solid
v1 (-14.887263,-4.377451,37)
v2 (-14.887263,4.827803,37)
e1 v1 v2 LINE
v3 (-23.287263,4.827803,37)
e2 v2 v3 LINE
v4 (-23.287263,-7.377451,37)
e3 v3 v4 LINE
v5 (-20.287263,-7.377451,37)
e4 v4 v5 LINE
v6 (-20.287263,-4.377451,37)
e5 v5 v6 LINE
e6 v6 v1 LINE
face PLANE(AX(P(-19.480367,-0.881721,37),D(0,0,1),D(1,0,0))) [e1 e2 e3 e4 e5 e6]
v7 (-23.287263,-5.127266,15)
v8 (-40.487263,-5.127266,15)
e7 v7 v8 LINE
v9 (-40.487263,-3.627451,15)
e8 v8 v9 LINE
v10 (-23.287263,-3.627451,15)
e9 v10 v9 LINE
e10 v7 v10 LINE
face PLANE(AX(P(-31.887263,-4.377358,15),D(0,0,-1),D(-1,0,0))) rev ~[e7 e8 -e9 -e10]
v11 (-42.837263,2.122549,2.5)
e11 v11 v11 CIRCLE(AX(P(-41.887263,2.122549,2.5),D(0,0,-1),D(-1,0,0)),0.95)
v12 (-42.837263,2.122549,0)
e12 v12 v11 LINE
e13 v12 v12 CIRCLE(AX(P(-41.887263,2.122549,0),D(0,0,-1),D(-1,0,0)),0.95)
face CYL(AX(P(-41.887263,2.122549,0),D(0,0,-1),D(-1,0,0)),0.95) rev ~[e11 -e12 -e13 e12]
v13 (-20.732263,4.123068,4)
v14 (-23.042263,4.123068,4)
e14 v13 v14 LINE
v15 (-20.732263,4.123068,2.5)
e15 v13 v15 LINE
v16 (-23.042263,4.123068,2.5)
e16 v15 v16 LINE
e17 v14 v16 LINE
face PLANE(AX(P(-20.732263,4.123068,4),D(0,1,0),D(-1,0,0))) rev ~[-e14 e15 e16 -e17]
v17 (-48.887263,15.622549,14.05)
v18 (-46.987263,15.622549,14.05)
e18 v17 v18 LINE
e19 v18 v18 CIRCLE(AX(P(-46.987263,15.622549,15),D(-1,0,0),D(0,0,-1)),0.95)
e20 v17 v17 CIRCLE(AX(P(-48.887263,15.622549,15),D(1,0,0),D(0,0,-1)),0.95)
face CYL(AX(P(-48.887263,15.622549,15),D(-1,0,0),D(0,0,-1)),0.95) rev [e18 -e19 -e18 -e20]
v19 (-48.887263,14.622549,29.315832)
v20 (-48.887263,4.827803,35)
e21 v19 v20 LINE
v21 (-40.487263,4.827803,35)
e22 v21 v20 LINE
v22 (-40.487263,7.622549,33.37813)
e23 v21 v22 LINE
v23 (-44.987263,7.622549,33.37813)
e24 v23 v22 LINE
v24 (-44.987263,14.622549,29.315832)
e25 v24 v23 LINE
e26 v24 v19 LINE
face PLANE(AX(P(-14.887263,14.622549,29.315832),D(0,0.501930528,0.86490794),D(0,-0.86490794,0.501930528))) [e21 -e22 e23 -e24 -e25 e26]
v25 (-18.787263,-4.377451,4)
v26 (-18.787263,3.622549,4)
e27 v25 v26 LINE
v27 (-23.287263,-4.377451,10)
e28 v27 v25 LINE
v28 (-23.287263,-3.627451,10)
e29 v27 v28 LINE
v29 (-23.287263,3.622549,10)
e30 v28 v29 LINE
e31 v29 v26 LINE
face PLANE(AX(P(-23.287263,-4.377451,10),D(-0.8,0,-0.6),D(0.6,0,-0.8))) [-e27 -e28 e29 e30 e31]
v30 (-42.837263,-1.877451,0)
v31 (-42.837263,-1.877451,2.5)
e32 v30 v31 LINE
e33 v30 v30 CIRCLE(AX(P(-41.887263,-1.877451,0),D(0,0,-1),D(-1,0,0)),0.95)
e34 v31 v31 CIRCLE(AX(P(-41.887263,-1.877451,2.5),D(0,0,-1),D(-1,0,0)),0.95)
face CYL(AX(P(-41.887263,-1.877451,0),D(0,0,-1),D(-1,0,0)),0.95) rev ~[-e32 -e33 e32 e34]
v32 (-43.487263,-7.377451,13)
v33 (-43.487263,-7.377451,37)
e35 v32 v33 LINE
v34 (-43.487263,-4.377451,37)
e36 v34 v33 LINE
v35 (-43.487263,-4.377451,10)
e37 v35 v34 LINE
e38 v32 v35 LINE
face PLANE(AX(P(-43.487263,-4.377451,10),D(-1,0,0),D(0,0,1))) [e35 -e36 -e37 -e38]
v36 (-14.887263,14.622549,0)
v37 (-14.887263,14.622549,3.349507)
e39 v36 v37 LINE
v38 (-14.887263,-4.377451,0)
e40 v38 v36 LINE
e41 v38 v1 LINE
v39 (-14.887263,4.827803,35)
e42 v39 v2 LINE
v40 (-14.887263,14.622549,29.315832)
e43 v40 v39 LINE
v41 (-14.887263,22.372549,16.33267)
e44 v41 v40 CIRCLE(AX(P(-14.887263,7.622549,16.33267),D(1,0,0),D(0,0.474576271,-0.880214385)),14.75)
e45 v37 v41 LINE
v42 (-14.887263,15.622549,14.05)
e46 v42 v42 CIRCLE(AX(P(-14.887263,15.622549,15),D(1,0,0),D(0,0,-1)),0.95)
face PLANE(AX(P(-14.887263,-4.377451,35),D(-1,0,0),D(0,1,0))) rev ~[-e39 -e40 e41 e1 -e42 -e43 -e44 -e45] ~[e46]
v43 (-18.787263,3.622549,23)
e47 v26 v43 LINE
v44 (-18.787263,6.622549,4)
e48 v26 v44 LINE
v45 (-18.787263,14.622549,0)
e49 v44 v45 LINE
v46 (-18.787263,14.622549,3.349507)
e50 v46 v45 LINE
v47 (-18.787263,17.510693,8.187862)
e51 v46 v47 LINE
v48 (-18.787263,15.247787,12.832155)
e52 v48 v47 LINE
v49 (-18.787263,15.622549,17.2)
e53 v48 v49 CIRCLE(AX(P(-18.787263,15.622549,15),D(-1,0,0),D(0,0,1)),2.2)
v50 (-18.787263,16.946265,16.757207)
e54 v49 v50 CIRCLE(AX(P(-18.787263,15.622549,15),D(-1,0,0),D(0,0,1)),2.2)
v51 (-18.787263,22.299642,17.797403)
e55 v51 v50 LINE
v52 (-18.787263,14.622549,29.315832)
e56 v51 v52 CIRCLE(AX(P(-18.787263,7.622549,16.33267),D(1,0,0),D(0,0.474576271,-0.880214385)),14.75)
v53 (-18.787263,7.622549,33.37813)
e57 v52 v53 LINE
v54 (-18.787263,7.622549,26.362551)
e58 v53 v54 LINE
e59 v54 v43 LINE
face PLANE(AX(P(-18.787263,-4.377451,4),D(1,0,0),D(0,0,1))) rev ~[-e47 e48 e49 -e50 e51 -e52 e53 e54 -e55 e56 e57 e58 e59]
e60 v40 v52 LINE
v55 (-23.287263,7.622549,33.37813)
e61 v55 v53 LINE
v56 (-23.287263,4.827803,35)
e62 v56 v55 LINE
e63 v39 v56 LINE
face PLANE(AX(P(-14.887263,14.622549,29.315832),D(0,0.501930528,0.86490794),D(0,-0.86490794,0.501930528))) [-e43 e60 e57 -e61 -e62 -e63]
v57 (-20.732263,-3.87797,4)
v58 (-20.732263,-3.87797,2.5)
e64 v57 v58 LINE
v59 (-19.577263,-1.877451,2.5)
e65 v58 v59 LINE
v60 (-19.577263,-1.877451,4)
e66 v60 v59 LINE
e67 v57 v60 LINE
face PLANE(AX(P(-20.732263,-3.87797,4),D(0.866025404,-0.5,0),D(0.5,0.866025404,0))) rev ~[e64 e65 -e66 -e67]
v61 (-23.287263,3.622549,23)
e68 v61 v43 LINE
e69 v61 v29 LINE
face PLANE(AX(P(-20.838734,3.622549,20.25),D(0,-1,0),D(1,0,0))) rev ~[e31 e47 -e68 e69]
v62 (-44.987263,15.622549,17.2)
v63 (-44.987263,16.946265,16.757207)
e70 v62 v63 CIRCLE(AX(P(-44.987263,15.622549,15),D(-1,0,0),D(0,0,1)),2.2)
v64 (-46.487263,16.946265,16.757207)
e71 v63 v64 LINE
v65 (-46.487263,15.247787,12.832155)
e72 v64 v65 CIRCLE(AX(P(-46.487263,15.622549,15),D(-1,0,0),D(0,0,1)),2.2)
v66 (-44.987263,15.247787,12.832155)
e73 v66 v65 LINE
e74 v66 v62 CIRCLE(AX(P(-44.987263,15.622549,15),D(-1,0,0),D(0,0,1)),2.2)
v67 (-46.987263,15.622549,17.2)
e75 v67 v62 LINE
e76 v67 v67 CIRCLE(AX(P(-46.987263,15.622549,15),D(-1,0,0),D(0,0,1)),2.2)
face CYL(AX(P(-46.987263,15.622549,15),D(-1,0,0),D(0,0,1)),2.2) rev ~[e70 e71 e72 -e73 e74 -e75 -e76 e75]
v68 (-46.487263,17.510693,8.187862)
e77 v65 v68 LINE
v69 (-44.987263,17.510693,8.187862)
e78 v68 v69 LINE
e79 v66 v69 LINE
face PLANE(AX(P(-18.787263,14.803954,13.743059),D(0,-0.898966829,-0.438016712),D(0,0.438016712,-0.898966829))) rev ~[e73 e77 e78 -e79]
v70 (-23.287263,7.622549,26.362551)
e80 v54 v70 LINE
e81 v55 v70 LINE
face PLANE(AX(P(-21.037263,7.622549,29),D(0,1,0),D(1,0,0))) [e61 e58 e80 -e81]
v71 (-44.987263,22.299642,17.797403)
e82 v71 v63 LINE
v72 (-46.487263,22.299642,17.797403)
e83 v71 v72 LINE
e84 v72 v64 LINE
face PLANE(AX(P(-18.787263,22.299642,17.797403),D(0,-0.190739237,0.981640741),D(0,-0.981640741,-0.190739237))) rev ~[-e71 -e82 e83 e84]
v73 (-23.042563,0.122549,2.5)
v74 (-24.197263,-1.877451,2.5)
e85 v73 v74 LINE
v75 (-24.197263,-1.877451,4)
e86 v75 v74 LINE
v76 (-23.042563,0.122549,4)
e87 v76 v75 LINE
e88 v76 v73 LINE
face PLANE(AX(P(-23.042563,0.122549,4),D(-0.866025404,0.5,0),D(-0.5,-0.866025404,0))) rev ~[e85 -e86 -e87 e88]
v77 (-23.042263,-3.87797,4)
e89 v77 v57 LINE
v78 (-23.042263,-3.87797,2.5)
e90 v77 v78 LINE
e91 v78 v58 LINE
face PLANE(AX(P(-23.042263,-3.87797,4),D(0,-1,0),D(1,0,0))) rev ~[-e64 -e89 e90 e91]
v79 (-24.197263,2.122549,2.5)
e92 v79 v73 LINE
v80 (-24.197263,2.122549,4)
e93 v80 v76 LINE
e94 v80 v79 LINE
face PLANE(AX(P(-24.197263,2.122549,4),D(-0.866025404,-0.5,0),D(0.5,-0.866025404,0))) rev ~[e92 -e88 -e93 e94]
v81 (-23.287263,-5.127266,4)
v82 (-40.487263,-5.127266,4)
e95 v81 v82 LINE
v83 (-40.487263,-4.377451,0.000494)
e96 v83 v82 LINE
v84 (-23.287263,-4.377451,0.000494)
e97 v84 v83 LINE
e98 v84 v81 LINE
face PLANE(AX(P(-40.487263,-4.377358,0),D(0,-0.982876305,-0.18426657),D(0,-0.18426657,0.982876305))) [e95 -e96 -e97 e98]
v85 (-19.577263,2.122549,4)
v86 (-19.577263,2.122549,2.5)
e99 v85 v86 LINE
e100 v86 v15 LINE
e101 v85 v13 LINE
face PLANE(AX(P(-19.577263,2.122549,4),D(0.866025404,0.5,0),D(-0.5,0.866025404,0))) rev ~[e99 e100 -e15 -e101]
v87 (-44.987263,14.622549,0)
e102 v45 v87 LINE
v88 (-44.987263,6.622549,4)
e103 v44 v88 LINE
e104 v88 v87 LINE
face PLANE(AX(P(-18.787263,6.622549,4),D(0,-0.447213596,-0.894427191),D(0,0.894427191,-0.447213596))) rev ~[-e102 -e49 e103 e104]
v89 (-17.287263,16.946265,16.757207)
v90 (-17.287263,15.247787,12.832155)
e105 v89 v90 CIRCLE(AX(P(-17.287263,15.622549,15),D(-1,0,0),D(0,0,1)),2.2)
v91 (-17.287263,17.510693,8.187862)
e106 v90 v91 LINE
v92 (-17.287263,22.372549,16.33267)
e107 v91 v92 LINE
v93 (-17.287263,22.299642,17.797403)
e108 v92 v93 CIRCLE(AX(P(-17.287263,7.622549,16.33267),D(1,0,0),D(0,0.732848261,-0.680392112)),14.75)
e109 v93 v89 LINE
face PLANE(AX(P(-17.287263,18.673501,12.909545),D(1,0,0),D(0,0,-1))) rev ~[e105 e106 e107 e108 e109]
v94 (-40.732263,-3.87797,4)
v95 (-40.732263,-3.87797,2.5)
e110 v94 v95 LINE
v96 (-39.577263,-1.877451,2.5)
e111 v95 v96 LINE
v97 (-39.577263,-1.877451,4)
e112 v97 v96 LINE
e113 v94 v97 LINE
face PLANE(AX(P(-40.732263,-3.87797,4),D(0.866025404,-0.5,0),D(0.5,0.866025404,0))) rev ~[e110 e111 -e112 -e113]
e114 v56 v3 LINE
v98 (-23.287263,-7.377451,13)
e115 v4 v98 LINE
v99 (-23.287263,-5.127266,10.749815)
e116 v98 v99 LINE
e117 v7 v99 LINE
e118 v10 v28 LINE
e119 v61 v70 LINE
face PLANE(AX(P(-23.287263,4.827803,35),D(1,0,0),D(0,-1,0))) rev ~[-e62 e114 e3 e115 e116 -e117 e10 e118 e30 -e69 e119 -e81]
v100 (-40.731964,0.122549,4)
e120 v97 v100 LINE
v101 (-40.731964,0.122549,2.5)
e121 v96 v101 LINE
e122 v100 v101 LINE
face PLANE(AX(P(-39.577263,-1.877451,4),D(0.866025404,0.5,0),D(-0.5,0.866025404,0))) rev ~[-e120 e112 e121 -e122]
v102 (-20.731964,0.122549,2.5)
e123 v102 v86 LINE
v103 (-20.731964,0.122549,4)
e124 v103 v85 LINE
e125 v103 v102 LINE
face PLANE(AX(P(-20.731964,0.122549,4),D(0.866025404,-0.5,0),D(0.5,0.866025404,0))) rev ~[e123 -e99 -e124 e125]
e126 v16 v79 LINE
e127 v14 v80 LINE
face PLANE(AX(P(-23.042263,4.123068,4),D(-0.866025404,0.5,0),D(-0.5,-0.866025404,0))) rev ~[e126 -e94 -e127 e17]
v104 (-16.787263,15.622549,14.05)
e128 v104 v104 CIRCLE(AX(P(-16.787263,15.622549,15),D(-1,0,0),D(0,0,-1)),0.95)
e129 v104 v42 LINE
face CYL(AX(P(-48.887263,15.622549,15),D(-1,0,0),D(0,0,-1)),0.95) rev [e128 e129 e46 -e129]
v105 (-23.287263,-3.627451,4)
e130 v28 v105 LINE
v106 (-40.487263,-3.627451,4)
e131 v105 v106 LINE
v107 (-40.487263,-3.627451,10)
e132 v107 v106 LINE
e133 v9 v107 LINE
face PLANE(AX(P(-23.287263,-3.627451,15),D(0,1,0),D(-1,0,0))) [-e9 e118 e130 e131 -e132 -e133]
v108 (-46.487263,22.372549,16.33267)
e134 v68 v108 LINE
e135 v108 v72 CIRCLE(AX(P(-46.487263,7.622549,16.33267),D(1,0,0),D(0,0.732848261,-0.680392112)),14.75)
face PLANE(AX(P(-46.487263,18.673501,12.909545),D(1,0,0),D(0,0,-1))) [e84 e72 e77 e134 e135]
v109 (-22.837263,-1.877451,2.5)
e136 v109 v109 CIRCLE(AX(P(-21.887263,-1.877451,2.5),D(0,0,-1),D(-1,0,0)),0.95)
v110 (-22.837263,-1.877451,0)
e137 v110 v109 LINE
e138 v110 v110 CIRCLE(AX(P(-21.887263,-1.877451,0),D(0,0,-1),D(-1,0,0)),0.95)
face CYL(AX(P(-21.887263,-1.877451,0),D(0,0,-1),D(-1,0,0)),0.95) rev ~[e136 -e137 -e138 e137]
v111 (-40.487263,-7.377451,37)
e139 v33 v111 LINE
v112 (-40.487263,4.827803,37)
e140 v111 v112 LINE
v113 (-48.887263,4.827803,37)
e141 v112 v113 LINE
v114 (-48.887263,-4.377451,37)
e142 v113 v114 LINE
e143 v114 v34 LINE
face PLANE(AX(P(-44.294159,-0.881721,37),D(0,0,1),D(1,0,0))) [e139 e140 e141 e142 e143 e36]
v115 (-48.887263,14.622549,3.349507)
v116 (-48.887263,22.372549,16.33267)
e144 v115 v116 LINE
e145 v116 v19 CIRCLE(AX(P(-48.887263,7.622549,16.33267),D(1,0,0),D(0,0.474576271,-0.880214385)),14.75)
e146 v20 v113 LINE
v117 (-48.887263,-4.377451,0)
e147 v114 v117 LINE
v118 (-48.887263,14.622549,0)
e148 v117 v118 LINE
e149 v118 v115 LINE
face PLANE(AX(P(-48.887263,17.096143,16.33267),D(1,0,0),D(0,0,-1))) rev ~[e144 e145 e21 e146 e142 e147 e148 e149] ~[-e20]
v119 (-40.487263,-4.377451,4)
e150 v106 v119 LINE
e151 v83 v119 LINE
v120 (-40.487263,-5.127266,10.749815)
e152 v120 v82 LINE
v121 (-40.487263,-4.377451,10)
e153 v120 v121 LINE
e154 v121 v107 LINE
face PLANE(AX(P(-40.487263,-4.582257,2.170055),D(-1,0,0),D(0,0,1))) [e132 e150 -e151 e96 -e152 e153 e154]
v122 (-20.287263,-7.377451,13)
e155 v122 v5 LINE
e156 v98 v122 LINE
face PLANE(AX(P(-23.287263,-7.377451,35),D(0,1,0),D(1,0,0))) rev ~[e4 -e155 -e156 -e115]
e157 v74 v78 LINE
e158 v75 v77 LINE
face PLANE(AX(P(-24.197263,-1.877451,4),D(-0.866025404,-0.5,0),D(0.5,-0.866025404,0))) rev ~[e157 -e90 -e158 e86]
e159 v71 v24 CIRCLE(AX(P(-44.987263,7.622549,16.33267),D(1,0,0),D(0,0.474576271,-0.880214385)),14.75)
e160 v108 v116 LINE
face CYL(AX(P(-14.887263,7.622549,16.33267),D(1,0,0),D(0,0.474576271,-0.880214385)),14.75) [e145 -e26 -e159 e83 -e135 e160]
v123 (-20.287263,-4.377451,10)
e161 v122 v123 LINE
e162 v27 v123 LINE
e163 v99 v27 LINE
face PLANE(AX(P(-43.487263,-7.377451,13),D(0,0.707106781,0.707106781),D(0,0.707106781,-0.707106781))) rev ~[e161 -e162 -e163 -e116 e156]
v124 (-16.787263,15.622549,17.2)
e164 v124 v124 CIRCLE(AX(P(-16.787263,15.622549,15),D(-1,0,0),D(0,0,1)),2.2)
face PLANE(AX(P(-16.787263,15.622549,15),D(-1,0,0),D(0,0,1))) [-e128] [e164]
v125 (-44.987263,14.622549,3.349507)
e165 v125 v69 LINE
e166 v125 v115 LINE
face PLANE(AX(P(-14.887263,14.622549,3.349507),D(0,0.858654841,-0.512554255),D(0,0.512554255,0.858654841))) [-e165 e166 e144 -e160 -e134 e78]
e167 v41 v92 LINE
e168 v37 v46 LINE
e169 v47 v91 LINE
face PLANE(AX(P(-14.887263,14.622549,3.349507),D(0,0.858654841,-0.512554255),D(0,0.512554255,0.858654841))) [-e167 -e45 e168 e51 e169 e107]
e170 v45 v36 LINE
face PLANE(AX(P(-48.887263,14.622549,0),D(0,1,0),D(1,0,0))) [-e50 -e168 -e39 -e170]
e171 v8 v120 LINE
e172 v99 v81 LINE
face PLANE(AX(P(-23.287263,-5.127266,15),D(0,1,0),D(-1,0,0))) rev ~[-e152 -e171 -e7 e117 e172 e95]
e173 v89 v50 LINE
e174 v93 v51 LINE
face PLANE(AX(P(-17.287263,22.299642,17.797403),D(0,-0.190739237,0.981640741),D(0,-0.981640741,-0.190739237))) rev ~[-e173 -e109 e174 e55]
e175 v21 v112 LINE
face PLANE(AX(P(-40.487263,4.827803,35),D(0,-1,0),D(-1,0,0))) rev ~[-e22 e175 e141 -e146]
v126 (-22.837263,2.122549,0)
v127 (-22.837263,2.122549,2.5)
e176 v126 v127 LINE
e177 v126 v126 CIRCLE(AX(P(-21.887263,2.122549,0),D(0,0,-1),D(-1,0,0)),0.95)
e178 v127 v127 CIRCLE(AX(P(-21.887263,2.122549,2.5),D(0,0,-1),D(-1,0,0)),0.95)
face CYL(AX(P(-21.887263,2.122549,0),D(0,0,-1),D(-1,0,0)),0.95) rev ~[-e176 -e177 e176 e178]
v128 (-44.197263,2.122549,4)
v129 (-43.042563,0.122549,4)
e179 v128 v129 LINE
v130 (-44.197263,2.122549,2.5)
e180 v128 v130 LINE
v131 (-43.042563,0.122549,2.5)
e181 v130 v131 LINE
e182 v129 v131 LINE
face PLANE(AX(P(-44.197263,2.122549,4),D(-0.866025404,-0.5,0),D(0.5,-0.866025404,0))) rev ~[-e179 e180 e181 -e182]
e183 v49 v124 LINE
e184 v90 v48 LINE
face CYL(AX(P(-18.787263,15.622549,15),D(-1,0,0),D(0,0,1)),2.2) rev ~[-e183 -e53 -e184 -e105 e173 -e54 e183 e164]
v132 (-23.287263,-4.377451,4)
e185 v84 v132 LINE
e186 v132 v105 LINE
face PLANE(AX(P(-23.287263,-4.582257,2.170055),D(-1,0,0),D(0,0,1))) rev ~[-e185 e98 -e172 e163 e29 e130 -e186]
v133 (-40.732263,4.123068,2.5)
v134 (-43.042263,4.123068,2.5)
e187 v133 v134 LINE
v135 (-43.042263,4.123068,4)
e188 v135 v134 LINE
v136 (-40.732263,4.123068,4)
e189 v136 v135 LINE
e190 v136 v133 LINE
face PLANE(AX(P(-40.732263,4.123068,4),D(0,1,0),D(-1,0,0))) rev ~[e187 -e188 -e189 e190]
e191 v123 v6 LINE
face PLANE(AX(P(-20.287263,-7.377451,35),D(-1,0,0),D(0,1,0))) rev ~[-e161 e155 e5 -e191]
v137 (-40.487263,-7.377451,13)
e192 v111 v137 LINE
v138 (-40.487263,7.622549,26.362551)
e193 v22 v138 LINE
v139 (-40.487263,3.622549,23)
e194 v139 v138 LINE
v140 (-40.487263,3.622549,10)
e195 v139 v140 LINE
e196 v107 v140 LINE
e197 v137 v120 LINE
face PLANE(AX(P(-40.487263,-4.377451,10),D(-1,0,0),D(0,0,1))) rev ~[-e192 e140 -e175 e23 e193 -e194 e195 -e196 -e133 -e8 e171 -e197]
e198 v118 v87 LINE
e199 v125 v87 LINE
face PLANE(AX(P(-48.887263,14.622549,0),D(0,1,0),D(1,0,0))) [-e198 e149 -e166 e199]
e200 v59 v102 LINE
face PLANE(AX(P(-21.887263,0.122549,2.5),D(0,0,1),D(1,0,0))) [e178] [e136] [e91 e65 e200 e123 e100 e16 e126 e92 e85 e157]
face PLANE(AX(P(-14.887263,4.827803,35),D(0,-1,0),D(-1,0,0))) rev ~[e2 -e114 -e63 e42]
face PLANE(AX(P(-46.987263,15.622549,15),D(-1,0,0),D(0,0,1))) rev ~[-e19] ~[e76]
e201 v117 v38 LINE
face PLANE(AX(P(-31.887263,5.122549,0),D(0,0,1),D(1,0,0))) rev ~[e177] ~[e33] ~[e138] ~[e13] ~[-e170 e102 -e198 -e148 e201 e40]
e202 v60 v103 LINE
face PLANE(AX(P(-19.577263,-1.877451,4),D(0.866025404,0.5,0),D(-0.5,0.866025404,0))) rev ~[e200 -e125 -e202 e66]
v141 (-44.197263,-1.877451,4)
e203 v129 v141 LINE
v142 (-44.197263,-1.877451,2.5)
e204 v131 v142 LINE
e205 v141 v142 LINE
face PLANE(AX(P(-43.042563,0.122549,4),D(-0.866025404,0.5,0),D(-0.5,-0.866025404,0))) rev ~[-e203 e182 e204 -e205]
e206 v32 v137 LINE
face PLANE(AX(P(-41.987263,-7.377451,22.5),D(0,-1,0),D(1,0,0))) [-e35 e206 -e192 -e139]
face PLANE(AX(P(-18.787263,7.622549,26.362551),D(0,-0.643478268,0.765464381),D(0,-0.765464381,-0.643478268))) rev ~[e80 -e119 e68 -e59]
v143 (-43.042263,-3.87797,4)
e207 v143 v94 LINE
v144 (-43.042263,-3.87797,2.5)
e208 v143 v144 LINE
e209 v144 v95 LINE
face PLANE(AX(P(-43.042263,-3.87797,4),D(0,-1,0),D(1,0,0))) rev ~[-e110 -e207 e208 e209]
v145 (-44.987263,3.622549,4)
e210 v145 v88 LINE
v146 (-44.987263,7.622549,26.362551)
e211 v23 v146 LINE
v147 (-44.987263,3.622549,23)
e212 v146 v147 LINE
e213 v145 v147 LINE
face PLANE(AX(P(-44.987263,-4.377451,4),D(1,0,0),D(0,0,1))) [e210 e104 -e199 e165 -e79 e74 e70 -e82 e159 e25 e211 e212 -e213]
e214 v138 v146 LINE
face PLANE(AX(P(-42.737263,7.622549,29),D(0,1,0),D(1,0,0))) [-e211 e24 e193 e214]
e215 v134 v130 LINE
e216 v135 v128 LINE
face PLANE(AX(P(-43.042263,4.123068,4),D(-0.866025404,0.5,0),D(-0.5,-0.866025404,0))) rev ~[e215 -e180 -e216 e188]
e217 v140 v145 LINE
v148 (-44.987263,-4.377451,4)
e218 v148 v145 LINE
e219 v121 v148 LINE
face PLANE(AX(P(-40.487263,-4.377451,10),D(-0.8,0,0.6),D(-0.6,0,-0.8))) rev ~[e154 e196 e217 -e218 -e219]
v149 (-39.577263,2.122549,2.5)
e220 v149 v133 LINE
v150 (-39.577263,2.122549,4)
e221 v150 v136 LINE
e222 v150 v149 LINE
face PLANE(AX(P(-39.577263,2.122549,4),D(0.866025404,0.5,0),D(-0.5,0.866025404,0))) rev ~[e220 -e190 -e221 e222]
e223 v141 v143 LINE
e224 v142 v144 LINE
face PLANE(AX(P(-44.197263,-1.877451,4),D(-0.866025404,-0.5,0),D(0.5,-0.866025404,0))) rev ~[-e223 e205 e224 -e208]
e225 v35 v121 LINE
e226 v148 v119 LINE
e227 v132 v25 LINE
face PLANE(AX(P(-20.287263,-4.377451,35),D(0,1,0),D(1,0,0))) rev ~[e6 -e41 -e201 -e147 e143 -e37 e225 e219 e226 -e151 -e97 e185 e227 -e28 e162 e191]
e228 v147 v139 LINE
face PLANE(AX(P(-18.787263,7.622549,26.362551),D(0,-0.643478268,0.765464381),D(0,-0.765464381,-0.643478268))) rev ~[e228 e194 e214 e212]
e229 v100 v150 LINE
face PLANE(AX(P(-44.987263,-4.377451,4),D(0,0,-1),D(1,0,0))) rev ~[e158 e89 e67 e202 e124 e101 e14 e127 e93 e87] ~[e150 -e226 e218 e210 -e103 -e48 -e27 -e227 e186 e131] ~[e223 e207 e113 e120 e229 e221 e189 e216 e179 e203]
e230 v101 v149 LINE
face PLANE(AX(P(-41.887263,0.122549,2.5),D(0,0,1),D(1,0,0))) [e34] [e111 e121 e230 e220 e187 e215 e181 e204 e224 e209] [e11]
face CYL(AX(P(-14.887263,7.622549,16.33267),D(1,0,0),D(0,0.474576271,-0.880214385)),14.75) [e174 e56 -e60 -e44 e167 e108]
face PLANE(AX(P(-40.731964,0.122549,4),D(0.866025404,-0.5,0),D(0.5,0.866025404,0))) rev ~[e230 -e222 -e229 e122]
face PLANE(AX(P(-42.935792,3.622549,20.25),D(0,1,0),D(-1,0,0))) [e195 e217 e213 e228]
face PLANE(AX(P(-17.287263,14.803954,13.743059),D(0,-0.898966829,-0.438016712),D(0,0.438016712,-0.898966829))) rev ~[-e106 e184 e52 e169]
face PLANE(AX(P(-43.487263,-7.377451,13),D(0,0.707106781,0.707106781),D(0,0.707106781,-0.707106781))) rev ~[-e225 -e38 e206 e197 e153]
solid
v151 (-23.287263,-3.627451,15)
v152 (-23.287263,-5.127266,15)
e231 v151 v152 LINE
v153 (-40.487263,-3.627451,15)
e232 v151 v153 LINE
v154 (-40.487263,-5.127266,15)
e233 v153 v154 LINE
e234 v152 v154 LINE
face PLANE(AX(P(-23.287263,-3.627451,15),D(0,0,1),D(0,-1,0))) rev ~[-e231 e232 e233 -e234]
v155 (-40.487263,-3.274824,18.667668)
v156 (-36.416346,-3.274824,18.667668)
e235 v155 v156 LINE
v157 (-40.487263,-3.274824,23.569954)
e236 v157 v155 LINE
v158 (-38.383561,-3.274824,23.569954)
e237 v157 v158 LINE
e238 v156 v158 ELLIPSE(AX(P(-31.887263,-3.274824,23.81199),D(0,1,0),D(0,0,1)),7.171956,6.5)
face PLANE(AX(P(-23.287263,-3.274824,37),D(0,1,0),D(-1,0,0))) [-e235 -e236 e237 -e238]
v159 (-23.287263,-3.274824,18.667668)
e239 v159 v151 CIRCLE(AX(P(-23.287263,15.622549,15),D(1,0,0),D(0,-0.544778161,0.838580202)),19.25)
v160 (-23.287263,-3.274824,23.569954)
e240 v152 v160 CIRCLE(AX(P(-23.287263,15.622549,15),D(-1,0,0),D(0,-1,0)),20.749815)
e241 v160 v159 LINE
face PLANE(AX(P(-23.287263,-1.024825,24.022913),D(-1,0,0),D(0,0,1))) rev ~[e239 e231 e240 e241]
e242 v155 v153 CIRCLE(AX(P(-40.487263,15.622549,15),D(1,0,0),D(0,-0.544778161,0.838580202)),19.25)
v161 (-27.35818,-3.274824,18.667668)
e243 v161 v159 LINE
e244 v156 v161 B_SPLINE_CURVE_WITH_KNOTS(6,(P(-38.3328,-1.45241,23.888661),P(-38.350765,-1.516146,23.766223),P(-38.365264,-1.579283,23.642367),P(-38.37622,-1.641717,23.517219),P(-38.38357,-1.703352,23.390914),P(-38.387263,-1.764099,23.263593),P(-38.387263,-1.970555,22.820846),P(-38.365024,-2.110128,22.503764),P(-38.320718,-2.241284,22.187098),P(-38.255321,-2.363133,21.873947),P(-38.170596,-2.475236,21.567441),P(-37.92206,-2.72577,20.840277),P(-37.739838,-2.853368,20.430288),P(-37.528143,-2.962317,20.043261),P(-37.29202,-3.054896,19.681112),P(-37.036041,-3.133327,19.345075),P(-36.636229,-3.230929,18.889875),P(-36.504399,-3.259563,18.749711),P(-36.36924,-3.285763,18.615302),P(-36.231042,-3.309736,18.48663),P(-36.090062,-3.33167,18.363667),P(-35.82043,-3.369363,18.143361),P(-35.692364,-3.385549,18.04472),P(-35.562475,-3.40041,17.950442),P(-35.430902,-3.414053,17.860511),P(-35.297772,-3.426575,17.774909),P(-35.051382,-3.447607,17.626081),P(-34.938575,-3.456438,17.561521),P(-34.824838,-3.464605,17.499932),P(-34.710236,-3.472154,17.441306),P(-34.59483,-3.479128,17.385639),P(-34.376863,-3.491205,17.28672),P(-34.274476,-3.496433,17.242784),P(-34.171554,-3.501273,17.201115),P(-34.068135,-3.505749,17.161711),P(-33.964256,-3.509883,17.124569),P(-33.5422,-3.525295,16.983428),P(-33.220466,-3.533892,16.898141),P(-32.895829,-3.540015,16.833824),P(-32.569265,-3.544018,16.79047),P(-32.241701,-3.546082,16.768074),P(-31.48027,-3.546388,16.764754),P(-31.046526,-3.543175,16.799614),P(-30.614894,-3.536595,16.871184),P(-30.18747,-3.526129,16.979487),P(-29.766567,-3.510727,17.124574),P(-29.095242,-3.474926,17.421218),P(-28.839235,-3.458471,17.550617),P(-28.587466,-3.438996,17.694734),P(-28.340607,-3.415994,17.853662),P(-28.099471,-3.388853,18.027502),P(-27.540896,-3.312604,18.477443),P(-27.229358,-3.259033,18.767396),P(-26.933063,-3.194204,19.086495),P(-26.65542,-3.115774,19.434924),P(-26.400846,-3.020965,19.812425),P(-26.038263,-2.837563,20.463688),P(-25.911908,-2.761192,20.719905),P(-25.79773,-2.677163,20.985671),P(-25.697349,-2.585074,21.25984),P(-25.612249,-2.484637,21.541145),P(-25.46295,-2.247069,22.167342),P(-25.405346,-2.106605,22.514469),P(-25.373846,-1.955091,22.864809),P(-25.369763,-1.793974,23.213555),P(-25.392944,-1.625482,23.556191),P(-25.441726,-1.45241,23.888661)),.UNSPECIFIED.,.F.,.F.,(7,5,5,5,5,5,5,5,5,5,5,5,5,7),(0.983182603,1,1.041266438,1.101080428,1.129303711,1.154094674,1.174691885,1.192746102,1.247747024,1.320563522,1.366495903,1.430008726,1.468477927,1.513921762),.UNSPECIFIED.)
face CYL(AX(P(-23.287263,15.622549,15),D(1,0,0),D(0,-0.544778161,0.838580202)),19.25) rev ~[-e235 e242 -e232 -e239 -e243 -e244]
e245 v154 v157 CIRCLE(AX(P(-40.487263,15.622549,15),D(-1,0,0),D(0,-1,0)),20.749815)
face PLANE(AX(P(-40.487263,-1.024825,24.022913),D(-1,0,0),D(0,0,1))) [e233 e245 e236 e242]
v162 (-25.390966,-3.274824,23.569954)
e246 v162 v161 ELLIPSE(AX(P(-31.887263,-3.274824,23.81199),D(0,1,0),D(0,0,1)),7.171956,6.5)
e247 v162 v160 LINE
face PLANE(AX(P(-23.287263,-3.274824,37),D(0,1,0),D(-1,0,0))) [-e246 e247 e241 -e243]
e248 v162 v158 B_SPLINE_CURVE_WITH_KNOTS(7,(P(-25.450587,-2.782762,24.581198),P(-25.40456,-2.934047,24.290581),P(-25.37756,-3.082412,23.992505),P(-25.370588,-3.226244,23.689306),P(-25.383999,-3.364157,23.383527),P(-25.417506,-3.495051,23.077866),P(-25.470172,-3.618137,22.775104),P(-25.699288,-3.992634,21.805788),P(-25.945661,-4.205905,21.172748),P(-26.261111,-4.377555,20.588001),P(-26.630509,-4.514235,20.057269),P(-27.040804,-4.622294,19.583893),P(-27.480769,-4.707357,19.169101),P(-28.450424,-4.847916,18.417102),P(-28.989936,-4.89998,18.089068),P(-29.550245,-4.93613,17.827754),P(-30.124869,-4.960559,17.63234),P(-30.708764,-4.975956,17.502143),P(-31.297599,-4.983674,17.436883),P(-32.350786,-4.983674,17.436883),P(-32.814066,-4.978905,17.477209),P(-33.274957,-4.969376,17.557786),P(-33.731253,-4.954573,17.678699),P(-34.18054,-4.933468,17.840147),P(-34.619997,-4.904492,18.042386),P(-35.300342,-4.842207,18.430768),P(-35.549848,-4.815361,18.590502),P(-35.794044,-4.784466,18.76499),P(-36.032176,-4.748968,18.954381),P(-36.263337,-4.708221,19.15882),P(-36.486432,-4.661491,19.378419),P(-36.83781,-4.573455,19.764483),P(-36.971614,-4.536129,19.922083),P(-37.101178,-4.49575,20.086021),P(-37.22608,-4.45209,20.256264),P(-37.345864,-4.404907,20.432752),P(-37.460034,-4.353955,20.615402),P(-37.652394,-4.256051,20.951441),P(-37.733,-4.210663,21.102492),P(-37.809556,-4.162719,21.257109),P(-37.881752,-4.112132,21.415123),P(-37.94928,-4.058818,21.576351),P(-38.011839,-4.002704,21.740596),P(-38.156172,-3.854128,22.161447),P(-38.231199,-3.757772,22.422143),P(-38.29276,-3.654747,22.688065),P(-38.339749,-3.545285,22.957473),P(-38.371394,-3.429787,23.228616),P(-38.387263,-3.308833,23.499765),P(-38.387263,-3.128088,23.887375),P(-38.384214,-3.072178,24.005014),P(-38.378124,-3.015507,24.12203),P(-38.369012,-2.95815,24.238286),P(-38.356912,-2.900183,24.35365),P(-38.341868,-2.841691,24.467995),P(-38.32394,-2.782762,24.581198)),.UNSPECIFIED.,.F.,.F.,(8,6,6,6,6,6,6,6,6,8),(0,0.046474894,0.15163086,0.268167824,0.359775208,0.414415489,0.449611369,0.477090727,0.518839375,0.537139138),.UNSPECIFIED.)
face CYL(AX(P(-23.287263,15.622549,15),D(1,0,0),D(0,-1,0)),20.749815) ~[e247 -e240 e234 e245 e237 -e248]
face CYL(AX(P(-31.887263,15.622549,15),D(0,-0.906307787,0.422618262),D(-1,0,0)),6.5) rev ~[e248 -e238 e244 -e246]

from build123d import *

# Parameters (mm, degrees)
CROQUIS1_W               = 34
CROQUIS1_H               = 19
SALIENTE_EXTRUIR1_DEPTH  = 35
CROQUIS2_W               = 26.2
CROQUIS2_H               = 31
CORTAR_EXTRUIR1_DEPTH    = 25
CORTAR_EXTRUIR3_DEPTH    = 26.2
SALIENTE_EXTRUIR2_DEPTH  = 34
CROQUIS10_W              = 26.2
CROQUIS10_H              = 25.966324345
CORTAR_EXTRUIR4_DEPTH    = 10
CROQUIS18_R              = 0.95
CORTAR_EXTRUIR11_DEPTH   = 4
CORTAR_EXTRUIR12_DEPTH   = 1.5
CORTAR_EXTRUIR14_START   = -34
CROQUIS21_R              = 0.95
CORTAR_EXTRUIR14_DEPTH   = 34
SALIENTE_EXTRUIR3_DEPTH  = 8
CROQUIS25_W              = 3
CROQUIS25_H              = 25
SALIENTE_EXTRUIR4_DEPTH  = 3
CROQUIS43_W              = 4.5
CROQUIS43_H              = 12
SALIENTE_EXTRUIR8_DEPTH  = 4
CORTAR_EXTRUIR20_START   = -1.5
CORTAR_EXTRUIR20_DEPTH   = 1.5
CORTAR_EXTRUIR21_DEPTH   = 27.7
CORTAR_EXTRUIR22_START   = -34
CORTAR_EXTRUIR22_DEPTH   = 34
CROQUIS36_R              = 2.2
CORTAR_EXTRUIR24_DEPTH   = 2
CORTAR_EXTRUIR25_START   = 28.2
CROQUIS36_2_R            = 2.2
CORTAR_EXTRUIR25_DEPTH   = 28.2
CORTAR_EXTRUIR26_START   = -34
CORTAR_EXTRUIR26_DEPTH   = 34
CORTAR_EXTRUIR28_START   = -23.2
CORTAR_EXTRUIR28_DEPTH   = 23.2
CORTAR_EXTRUIR29_DEPTH   = 26.2
SALIENTE_EXTRUIR9_DEPTH  = 17.2
CROQUIS49_R              = 6.5
CROQUIS50_R              = 6.5
CROQUIS53_W              = 17.2
CROQUIS53_H              = 1.49981493
SALIENTE_EXTRUIR13_DEPTH = 11
SALIENTE_EXTRUIR14_DEPTH = 17.2
SALIENTE_EXTRUIR15_DEPTH = 2
CORTAR_EXTRUIR30_DEPTH   = 20


with BuildPart() as part:
    # Croquis1 → Saliente-Extruir1 (new body)
    with BuildSketch(Plane.XY):
        with Locations((-31.887263086, 5.12254902)):
            Rectangle(CROQUIS1_W, CROQUIS1_H)
    extrude(amount=SALIENTE_EXTRUIR1_DEPTH)

    # Croquis2 → Cortar-Extruir1 (cut)
    with BuildSketch(Plane.XZ.offset(4.37745098)):
        with Locations((-31.887263086, 19.5)):
            Rectangle(CROQUIS2_W, CROQUIS2_H)
    extrude(amount=-CORTAR_EXTRUIR1_DEPTH, mode=Mode.SUBTRACT)

    # Croquis4 → Cortar-Extruir3 (cut)
    with BuildSketch(Plane.ZY.offset(18.787263086)):
        Polygon((4, 14.62254902), (4, 6.62254902), (0, 14.62254902), align=None)
    extrude(amount=CORTAR_EXTRUIR3_DEPTH, mode=Mode.SUBTRACT)

    # Croquis9 → Saliente-Extruir2 (add)
    with BuildSketch(Plane(origin=(-14.887263086, 0, 0), x_dir=(0, 0, -1), z_dir=(1, 0, 0))):
        with BuildLine():
            Line((-29.315831827, 14.62254902), (-3.349507482, 14.62254902))
            ThreePointArc((-3.349507482, 14.62254902), (-16.332669655, 22.37254902), (-29.315831827, 14.62254902))
        make_face()
    extrude(amount=-SALIENTE_EXTRUIR2_DEPTH)

    # Croquis10 → Cortar-Extruir4 (cut)
    with BuildSketch(Plane.XZ.offset(-14.62254902)):
        with Locations((-31.887263086, 16.332669655)):
            Rectangle(CROQUIS10_W, CROQUIS10_H)
    extrude(amount=-CORTAR_EXTRUIR4_DEPTH, mode=Mode.SUBTRACT)

    # Croquis18 → Cortar-Extruir11 (cut)
    with BuildSketch(Plane(origin=(0, 0, 0), x_dir=(-1, 0, 0), z_dir=(0, 0, -1))):
        with Locations((41.887263086, -1.87745098)):
            Circle(CROQUIS18_R)
        with Locations((21.887263086, -1.87745098)):
            Circle(CROQUIS18_R)
        with Locations((21.887263086, 2.12254902)):
            Circle(CROQUIS18_R)
        with Locations((41.887263086, 2.12254902)):
            Circle(CROQUIS18_R)
    extrude(amount=-CORTAR_EXTRUIR11_DEPTH, mode=Mode.SUBTRACT)

    # Croquis19 → Cortar-Extruir12 (cut)
    with BuildSketch(Plane.XY.offset(4)):
        Polygon((-44.197263086, -1.87745098), (-43.042263086, -3.877969663), (-40.732263086, -3.877969663), (-39.577263086, -1.87745098), (-40.731963624, 0.12254902), (-39.577263086, 2.12254902), (-40.732263086, 4.123067702), (-43.042263086, 4.123067702), (-44.197263086, 2.12254902), (-43.042562547, 0.12254902), align=None)
        Polygon((-24.197263086, -1.87745098), (-23.042263086, -3.877969663), (-20.732263086, -3.877969663), (-19.577263086, -1.87745098), (-20.731963624, 0.12254902), (-19.577263086, 2.12254902), (-20.732263086, 4.123067702), (-23.042263086, 4.123067702), (-24.197263086, 2.12254902), (-23.042562547, 0.12254902), align=None)
    extrude(amount=-CORTAR_EXTRUIR12_DEPTH, mode=Mode.SUBTRACT)

    # Croquis21 → Cortar-Extruir14 (cut)
    with BuildSketch(Plane(origin=(-14.887263086, 0, 0), x_dir=(0, 0, -1), z_dir=(1, 0, 0)).offset(CORTAR_EXTRUIR14_START)):
        with Locations((-15, 15.62254902)):
            Circle(CROQUIS21_R)
    extrude(amount=CORTAR_EXTRUIR14_DEPTH, mode=Mode.SUBTRACT)

    # Croquis23 → Saliente-Extruir3 (add)
    with BuildSketch(Plane.XZ.offset(4.37745098)):
        Polygon((-44.987263086, 35), (-40.487263086, 35), (-40.487263086, 10), (-44.987263086, 4), align=None)
        Polygon((-18.787263086, 35), (-23.287263086, 35), (-23.287263086, 10), (-18.787263086, 4), align=None)
    extrude(amount=-SALIENTE_EXTRUIR3_DEPTH)

    # Croquis25 → Saliente-Extruir4 (add)
    with BuildSketch(Plane.XZ.offset(4.37745098)):
        with Locations((-41.987263086, 22.5)):
            Rectangle(CROQUIS25_W, CROQUIS25_H)
        with Locations((-21.787263086, 22.5)):
            Rectangle(CROQUIS25_W, CROQUIS25_H)
    extrude(amount=SALIENTE_EXTRUIR4_DEPTH)

    # Croquis43 → Saliente-Extruir8 (add)
    with BuildSketch(Plane(origin=(0, 3.62254902, 0), x_dir=(1, 0, 0), z_dir=(0, 1, 0))):
        with Locations((-21.037263086, -29)):
            Rectangle(CROQUIS43_W, CROQUIS43_H)
        with Locations((-42.737263086, -29)):
            Rectangle(CROQUIS43_W, CROQUIS43_H)
    extrude(amount=SALIENTE_EXTRUIR8_DEPTH)

    # Croquis29 → Cortar-Extruir20 (cut)
    with BuildSketch(Plane.ZY.offset(18.787263086).offset(CORTAR_EXTRUIR20_START)):
        with BuildLine():
            Line((17.797402962, 22.299641931), (16.5, 15.62254902))
            ThreePointArc((16.5, 15.62254902), (15.426958984, 14.184596995), (13.743058632, 14.803953638))
            Line((13.743058632, 14.803953638), (6.296886003, 18.432060872))
            ThreePointArc((6.296886003, 18.432060872), (11.631045274, 21.603150873), (17.797402962, 22.299641931))
        make_face()
    extrude(amount=CORTAR_EXTRUIR20_DEPTH, mode=Mode.SUBTRACT)

    # Croquis29<2> → Cortar-Extruir21 (cut)
    with BuildSketch(Plane.ZY.offset(18.787263086)):
        with BuildLine():
            Line((17.797402962, 22.299641931), (16.5, 15.62254902))
            ThreePointArc((16.5, 15.62254902), (15.426958984, 14.184596995), (13.743058632, 14.803953638))
            Line((13.743058632, 14.803953638), (6.296886003, 18.432060872))
            ThreePointArc((6.296886003, 18.432060872), (11.631045274, 21.603150873), (17.797402962, 22.299641931))
        make_face()
    extrude(amount=CORTAR_EXTRUIR21_DEPTH, mode=Mode.SUBTRACT)

    # Croquis30 → Cortar-Extruir22 (cut)
    with BuildSketch(Plane.ZY.offset(48.887263086).offset(CORTAR_EXTRUIR22_START)):
        Polygon((29.315831827, 14.62254902), (35, 4.827802707), (35, 14.62254902), align=None)
    extrude(amount=CORTAR_EXTRUIR22_DEPTH, mode=Mode.SUBTRACT)

    # Croquis36 → Cortar-Extruir24 (cut)
    with BuildSketch(Plane.ZY.offset(18.787263086)):
        with Locations((15, 15.62254902)):
            Circle(CROQUIS36_R)
    extrude(amount=-CORTAR_EXTRUIR24_DEPTH, mode=Mode.SUBTRACT)

    # Croquis36<2> → Cortar-Extruir25 (cut)
    with BuildSketch(Plane.ZY.offset(18.787263086).offset(CORTAR_EXTRUIR25_START)):
        with Locations((15, 15.62254902)):
            Circle(CROQUIS36_2_R)
    extrude(amount=-CORTAR_EXTRUIR25_DEPTH, mode=Mode.SUBTRACT)

    # Croquis38 → Cortar-Extruir26 (cut)
    with BuildSketch(Plane.ZY.offset(48.887263086).offset(CORTAR_EXTRUIR26_START)):
        Polygon((3.349507482, 14.62254902), (16.332669655, 22.37254902), (3.349507482, 22.37254902), align=None)
    extrude(amount=CORTAR_EXTRUIR26_DEPTH, mode=Mode.SUBTRACT)

    # Croquis41 → Cortar-Extruir28 (cut)
    with BuildSketch(Plane(origin=(-20.287263086, 0, 0), x_dir=(0, 0, -1), z_dir=(1, 0, 0)).offset(CORTAR_EXTRUIR28_START)):
        Polygon((-10, -4.37745098), (-10, -7.37745098), (-13, -7.37745098), align=None)
    extrude(amount=CORTAR_EXTRUIR28_DEPTH, mode=Mode.SUBTRACT)

    # Croquis44 → Cortar-Extruir29 (cut)
    with BuildSketch(Plane.ZY.offset(18.787263086)):
        Polygon((23, 7.62254902), (26.362551066, 7.62254902), (23, 3.62254902), align=None)
    extrude(amount=CORTAR_EXTRUIR29_DEPTH, mode=Mode.SUBTRACT)



with BuildPart() as body_2:
    # Croquis45 → Saliente-Extruir9 (new body)
    with BuildSketch(Plane.ZY.offset(23.287263086)):
        with BuildLine():
            Line((32.372332418, 4.275439874), (31.142668885, 5.135569413))
            ThreePointArc((31.142668885, 5.135569413), (24.183902835, -1.295442254), (15, -3.62745098))
            Line((15, -3.62745098), (15, -5.12726591))
            ThreePointArc((15, -5.12726591), (24.876851848, -2.625810281), (32.372332418, 4.275439874))
        make_face()
    extrude(amount=SALIENTE_EXTRUIR9_DEPTH)

    # Cortar-Barrer2: sweep along a path in Croquis47
    with BuildLine(Plane(origin=(-31.887263086, 4.275439874, 32.372332418), x_dir=(0, 0, -1), z_dir=(1, 0, 0))) as cortar_barrer2_path:
        Line((17.372332418, 11.347109145), (-5.570725036, -21.418972626))
    # Croquis48 → Cortar-Barrer2 (sweep, cut)
    with BuildSketch(Plane(origin=(-31.887263086, -17.143532752, 37.943057454), x_dir=(-1, 0, 0), z_dir=(0, -0.8191520442889911, 0.5735764363510472))):
        with BuildLine():
            Line((6.5, 0), (6.5, -15))
            Line((6.5, -15), (-6.5, -15))
            Line((-6.5, -15), (-6.5, 0))
            ThreePointArc((-6.5, 0), (0, 6.5), (6.5, 0))
        make_face()
    sweep(path=cortar_barrer2_path.line, mode=Mode.SUBTRACT)

    # Cortar-Barrer3: sweep along a path in Croquis51
    with BuildLine(Plane(origin=(-31.887263086, 4.275439874, 32.372332418), x_dir=(0, 0, -1), z_dir=(1, 0, 0))) as cortar_barrer3_path:
        Line((17.372332418, 11.347109145), (-2.627667582, -23.293907006))
    # Croquis49 → Cortar-Barrer3 (sweep, cut)
    with BuildSketch(Plane(origin=(-31.887263086, -19.018467132, 35), x_dir=(-1, 0, 0), z_dir=(0, -0.8660254037844382, 0.5000000000000011))):
        Circle(CROQUIS49_R)
    sweep(path=cortar_barrer3_path.line, mode=Mode.SUBTRACT)

    # Cortar-Barrer4: sweep along a path in Croquis52
    with BuildLine(Plane(origin=(-31.887263086, 4.275439874, 32.372332418), x_dir=(0, 0, -1), z_dir=(1, 0, 0))) as cortar_barrer4_path:
        Line((17.372332418, 11.347109145), (0.467601948, -24.905202336))
    # Croquis50 → Cortar-Barrer4 (sweep, cut)
    with BuildSketch(Plane(origin=(-31.887263086, -20.629762462, 31.90473047), x_dir=(-1, 0, 0), z_dir=(0, -0.9063077870366495, 0.4226182617407004))):
        Circle(CROQUIS50_R)
    sweep(path=cortar_barrer4_path.line, mode=Mode.SUBTRACT)

    # Croquis58 → Cortar-Extruir30 (cut)
    with BuildSketch(Plane.XY.offset(37)):
        Polygon((-40.487263086, -1.274824137), (-40.487263086, 6.807025189), (-23.287263086, 6.807025189), (-23.287263086, -1.274824137), (-23.287263086, -3.274824137), (-40.487263086, -3.274824137), align=None)
    extrude(amount=-CORTAR_EXTRUIR30_DEPTH, mode=Mode.SUBTRACT)


with BuildPart() as body_3:
    # Croquis53 → Saliente-Extruir13 (new body)
    with BuildSketch(Plane(origin=(0, 0, 15), x_dir=(-1, 0, 0), z_dir=(0, 0, -1))):
        with Locations((31.887263086, -4.377358445)):
            Rectangle(CROQUIS53_W, CROQUIS53_H)
    extrude(amount=SALIENTE_EXTRUIR13_DEPTH)


with BuildPart() as part_1:
    add(part.part)

    add(body_3.part)  # Saliente-Extruir14 merges body 3
    # Croquis55 → Saliente-Extruir14 (add)
    with BuildSketch(Plane.ZY.offset(40.487263086)):
        Polygon((4, -5.12726591), (4, -4.377358445), (0, -4.377358445), align=None)
    extrude(amount=-SALIENTE_EXTRUIR14_DEPTH)

    # Croquis56 → Saliente-Extruir15 (add)
    with BuildSketch(Plane.XY.offset(35)):
        Polygon((-23.287263086, -7.37745098), (-20.287263086, -7.37745098), (-20.287263086, -4.37745098), (-14.887263086, -4.37745098), (-14.887263086, 4.827802707), (-23.287263086, 4.827802707), align=None)
        Polygon((-40.487263086, -7.37745098), (-40.487263086, 4.827802707), (-48.887263086, 4.827802707), (-48.887263086, -4.37745098), (-43.487263086, -4.37745098), (-43.487263086, -7.37745098), align=None)
    extrude(amount=SALIENTE_EXTRUIR15_DEPTH)


solid = Compound([body_2.part, part_1.part])
